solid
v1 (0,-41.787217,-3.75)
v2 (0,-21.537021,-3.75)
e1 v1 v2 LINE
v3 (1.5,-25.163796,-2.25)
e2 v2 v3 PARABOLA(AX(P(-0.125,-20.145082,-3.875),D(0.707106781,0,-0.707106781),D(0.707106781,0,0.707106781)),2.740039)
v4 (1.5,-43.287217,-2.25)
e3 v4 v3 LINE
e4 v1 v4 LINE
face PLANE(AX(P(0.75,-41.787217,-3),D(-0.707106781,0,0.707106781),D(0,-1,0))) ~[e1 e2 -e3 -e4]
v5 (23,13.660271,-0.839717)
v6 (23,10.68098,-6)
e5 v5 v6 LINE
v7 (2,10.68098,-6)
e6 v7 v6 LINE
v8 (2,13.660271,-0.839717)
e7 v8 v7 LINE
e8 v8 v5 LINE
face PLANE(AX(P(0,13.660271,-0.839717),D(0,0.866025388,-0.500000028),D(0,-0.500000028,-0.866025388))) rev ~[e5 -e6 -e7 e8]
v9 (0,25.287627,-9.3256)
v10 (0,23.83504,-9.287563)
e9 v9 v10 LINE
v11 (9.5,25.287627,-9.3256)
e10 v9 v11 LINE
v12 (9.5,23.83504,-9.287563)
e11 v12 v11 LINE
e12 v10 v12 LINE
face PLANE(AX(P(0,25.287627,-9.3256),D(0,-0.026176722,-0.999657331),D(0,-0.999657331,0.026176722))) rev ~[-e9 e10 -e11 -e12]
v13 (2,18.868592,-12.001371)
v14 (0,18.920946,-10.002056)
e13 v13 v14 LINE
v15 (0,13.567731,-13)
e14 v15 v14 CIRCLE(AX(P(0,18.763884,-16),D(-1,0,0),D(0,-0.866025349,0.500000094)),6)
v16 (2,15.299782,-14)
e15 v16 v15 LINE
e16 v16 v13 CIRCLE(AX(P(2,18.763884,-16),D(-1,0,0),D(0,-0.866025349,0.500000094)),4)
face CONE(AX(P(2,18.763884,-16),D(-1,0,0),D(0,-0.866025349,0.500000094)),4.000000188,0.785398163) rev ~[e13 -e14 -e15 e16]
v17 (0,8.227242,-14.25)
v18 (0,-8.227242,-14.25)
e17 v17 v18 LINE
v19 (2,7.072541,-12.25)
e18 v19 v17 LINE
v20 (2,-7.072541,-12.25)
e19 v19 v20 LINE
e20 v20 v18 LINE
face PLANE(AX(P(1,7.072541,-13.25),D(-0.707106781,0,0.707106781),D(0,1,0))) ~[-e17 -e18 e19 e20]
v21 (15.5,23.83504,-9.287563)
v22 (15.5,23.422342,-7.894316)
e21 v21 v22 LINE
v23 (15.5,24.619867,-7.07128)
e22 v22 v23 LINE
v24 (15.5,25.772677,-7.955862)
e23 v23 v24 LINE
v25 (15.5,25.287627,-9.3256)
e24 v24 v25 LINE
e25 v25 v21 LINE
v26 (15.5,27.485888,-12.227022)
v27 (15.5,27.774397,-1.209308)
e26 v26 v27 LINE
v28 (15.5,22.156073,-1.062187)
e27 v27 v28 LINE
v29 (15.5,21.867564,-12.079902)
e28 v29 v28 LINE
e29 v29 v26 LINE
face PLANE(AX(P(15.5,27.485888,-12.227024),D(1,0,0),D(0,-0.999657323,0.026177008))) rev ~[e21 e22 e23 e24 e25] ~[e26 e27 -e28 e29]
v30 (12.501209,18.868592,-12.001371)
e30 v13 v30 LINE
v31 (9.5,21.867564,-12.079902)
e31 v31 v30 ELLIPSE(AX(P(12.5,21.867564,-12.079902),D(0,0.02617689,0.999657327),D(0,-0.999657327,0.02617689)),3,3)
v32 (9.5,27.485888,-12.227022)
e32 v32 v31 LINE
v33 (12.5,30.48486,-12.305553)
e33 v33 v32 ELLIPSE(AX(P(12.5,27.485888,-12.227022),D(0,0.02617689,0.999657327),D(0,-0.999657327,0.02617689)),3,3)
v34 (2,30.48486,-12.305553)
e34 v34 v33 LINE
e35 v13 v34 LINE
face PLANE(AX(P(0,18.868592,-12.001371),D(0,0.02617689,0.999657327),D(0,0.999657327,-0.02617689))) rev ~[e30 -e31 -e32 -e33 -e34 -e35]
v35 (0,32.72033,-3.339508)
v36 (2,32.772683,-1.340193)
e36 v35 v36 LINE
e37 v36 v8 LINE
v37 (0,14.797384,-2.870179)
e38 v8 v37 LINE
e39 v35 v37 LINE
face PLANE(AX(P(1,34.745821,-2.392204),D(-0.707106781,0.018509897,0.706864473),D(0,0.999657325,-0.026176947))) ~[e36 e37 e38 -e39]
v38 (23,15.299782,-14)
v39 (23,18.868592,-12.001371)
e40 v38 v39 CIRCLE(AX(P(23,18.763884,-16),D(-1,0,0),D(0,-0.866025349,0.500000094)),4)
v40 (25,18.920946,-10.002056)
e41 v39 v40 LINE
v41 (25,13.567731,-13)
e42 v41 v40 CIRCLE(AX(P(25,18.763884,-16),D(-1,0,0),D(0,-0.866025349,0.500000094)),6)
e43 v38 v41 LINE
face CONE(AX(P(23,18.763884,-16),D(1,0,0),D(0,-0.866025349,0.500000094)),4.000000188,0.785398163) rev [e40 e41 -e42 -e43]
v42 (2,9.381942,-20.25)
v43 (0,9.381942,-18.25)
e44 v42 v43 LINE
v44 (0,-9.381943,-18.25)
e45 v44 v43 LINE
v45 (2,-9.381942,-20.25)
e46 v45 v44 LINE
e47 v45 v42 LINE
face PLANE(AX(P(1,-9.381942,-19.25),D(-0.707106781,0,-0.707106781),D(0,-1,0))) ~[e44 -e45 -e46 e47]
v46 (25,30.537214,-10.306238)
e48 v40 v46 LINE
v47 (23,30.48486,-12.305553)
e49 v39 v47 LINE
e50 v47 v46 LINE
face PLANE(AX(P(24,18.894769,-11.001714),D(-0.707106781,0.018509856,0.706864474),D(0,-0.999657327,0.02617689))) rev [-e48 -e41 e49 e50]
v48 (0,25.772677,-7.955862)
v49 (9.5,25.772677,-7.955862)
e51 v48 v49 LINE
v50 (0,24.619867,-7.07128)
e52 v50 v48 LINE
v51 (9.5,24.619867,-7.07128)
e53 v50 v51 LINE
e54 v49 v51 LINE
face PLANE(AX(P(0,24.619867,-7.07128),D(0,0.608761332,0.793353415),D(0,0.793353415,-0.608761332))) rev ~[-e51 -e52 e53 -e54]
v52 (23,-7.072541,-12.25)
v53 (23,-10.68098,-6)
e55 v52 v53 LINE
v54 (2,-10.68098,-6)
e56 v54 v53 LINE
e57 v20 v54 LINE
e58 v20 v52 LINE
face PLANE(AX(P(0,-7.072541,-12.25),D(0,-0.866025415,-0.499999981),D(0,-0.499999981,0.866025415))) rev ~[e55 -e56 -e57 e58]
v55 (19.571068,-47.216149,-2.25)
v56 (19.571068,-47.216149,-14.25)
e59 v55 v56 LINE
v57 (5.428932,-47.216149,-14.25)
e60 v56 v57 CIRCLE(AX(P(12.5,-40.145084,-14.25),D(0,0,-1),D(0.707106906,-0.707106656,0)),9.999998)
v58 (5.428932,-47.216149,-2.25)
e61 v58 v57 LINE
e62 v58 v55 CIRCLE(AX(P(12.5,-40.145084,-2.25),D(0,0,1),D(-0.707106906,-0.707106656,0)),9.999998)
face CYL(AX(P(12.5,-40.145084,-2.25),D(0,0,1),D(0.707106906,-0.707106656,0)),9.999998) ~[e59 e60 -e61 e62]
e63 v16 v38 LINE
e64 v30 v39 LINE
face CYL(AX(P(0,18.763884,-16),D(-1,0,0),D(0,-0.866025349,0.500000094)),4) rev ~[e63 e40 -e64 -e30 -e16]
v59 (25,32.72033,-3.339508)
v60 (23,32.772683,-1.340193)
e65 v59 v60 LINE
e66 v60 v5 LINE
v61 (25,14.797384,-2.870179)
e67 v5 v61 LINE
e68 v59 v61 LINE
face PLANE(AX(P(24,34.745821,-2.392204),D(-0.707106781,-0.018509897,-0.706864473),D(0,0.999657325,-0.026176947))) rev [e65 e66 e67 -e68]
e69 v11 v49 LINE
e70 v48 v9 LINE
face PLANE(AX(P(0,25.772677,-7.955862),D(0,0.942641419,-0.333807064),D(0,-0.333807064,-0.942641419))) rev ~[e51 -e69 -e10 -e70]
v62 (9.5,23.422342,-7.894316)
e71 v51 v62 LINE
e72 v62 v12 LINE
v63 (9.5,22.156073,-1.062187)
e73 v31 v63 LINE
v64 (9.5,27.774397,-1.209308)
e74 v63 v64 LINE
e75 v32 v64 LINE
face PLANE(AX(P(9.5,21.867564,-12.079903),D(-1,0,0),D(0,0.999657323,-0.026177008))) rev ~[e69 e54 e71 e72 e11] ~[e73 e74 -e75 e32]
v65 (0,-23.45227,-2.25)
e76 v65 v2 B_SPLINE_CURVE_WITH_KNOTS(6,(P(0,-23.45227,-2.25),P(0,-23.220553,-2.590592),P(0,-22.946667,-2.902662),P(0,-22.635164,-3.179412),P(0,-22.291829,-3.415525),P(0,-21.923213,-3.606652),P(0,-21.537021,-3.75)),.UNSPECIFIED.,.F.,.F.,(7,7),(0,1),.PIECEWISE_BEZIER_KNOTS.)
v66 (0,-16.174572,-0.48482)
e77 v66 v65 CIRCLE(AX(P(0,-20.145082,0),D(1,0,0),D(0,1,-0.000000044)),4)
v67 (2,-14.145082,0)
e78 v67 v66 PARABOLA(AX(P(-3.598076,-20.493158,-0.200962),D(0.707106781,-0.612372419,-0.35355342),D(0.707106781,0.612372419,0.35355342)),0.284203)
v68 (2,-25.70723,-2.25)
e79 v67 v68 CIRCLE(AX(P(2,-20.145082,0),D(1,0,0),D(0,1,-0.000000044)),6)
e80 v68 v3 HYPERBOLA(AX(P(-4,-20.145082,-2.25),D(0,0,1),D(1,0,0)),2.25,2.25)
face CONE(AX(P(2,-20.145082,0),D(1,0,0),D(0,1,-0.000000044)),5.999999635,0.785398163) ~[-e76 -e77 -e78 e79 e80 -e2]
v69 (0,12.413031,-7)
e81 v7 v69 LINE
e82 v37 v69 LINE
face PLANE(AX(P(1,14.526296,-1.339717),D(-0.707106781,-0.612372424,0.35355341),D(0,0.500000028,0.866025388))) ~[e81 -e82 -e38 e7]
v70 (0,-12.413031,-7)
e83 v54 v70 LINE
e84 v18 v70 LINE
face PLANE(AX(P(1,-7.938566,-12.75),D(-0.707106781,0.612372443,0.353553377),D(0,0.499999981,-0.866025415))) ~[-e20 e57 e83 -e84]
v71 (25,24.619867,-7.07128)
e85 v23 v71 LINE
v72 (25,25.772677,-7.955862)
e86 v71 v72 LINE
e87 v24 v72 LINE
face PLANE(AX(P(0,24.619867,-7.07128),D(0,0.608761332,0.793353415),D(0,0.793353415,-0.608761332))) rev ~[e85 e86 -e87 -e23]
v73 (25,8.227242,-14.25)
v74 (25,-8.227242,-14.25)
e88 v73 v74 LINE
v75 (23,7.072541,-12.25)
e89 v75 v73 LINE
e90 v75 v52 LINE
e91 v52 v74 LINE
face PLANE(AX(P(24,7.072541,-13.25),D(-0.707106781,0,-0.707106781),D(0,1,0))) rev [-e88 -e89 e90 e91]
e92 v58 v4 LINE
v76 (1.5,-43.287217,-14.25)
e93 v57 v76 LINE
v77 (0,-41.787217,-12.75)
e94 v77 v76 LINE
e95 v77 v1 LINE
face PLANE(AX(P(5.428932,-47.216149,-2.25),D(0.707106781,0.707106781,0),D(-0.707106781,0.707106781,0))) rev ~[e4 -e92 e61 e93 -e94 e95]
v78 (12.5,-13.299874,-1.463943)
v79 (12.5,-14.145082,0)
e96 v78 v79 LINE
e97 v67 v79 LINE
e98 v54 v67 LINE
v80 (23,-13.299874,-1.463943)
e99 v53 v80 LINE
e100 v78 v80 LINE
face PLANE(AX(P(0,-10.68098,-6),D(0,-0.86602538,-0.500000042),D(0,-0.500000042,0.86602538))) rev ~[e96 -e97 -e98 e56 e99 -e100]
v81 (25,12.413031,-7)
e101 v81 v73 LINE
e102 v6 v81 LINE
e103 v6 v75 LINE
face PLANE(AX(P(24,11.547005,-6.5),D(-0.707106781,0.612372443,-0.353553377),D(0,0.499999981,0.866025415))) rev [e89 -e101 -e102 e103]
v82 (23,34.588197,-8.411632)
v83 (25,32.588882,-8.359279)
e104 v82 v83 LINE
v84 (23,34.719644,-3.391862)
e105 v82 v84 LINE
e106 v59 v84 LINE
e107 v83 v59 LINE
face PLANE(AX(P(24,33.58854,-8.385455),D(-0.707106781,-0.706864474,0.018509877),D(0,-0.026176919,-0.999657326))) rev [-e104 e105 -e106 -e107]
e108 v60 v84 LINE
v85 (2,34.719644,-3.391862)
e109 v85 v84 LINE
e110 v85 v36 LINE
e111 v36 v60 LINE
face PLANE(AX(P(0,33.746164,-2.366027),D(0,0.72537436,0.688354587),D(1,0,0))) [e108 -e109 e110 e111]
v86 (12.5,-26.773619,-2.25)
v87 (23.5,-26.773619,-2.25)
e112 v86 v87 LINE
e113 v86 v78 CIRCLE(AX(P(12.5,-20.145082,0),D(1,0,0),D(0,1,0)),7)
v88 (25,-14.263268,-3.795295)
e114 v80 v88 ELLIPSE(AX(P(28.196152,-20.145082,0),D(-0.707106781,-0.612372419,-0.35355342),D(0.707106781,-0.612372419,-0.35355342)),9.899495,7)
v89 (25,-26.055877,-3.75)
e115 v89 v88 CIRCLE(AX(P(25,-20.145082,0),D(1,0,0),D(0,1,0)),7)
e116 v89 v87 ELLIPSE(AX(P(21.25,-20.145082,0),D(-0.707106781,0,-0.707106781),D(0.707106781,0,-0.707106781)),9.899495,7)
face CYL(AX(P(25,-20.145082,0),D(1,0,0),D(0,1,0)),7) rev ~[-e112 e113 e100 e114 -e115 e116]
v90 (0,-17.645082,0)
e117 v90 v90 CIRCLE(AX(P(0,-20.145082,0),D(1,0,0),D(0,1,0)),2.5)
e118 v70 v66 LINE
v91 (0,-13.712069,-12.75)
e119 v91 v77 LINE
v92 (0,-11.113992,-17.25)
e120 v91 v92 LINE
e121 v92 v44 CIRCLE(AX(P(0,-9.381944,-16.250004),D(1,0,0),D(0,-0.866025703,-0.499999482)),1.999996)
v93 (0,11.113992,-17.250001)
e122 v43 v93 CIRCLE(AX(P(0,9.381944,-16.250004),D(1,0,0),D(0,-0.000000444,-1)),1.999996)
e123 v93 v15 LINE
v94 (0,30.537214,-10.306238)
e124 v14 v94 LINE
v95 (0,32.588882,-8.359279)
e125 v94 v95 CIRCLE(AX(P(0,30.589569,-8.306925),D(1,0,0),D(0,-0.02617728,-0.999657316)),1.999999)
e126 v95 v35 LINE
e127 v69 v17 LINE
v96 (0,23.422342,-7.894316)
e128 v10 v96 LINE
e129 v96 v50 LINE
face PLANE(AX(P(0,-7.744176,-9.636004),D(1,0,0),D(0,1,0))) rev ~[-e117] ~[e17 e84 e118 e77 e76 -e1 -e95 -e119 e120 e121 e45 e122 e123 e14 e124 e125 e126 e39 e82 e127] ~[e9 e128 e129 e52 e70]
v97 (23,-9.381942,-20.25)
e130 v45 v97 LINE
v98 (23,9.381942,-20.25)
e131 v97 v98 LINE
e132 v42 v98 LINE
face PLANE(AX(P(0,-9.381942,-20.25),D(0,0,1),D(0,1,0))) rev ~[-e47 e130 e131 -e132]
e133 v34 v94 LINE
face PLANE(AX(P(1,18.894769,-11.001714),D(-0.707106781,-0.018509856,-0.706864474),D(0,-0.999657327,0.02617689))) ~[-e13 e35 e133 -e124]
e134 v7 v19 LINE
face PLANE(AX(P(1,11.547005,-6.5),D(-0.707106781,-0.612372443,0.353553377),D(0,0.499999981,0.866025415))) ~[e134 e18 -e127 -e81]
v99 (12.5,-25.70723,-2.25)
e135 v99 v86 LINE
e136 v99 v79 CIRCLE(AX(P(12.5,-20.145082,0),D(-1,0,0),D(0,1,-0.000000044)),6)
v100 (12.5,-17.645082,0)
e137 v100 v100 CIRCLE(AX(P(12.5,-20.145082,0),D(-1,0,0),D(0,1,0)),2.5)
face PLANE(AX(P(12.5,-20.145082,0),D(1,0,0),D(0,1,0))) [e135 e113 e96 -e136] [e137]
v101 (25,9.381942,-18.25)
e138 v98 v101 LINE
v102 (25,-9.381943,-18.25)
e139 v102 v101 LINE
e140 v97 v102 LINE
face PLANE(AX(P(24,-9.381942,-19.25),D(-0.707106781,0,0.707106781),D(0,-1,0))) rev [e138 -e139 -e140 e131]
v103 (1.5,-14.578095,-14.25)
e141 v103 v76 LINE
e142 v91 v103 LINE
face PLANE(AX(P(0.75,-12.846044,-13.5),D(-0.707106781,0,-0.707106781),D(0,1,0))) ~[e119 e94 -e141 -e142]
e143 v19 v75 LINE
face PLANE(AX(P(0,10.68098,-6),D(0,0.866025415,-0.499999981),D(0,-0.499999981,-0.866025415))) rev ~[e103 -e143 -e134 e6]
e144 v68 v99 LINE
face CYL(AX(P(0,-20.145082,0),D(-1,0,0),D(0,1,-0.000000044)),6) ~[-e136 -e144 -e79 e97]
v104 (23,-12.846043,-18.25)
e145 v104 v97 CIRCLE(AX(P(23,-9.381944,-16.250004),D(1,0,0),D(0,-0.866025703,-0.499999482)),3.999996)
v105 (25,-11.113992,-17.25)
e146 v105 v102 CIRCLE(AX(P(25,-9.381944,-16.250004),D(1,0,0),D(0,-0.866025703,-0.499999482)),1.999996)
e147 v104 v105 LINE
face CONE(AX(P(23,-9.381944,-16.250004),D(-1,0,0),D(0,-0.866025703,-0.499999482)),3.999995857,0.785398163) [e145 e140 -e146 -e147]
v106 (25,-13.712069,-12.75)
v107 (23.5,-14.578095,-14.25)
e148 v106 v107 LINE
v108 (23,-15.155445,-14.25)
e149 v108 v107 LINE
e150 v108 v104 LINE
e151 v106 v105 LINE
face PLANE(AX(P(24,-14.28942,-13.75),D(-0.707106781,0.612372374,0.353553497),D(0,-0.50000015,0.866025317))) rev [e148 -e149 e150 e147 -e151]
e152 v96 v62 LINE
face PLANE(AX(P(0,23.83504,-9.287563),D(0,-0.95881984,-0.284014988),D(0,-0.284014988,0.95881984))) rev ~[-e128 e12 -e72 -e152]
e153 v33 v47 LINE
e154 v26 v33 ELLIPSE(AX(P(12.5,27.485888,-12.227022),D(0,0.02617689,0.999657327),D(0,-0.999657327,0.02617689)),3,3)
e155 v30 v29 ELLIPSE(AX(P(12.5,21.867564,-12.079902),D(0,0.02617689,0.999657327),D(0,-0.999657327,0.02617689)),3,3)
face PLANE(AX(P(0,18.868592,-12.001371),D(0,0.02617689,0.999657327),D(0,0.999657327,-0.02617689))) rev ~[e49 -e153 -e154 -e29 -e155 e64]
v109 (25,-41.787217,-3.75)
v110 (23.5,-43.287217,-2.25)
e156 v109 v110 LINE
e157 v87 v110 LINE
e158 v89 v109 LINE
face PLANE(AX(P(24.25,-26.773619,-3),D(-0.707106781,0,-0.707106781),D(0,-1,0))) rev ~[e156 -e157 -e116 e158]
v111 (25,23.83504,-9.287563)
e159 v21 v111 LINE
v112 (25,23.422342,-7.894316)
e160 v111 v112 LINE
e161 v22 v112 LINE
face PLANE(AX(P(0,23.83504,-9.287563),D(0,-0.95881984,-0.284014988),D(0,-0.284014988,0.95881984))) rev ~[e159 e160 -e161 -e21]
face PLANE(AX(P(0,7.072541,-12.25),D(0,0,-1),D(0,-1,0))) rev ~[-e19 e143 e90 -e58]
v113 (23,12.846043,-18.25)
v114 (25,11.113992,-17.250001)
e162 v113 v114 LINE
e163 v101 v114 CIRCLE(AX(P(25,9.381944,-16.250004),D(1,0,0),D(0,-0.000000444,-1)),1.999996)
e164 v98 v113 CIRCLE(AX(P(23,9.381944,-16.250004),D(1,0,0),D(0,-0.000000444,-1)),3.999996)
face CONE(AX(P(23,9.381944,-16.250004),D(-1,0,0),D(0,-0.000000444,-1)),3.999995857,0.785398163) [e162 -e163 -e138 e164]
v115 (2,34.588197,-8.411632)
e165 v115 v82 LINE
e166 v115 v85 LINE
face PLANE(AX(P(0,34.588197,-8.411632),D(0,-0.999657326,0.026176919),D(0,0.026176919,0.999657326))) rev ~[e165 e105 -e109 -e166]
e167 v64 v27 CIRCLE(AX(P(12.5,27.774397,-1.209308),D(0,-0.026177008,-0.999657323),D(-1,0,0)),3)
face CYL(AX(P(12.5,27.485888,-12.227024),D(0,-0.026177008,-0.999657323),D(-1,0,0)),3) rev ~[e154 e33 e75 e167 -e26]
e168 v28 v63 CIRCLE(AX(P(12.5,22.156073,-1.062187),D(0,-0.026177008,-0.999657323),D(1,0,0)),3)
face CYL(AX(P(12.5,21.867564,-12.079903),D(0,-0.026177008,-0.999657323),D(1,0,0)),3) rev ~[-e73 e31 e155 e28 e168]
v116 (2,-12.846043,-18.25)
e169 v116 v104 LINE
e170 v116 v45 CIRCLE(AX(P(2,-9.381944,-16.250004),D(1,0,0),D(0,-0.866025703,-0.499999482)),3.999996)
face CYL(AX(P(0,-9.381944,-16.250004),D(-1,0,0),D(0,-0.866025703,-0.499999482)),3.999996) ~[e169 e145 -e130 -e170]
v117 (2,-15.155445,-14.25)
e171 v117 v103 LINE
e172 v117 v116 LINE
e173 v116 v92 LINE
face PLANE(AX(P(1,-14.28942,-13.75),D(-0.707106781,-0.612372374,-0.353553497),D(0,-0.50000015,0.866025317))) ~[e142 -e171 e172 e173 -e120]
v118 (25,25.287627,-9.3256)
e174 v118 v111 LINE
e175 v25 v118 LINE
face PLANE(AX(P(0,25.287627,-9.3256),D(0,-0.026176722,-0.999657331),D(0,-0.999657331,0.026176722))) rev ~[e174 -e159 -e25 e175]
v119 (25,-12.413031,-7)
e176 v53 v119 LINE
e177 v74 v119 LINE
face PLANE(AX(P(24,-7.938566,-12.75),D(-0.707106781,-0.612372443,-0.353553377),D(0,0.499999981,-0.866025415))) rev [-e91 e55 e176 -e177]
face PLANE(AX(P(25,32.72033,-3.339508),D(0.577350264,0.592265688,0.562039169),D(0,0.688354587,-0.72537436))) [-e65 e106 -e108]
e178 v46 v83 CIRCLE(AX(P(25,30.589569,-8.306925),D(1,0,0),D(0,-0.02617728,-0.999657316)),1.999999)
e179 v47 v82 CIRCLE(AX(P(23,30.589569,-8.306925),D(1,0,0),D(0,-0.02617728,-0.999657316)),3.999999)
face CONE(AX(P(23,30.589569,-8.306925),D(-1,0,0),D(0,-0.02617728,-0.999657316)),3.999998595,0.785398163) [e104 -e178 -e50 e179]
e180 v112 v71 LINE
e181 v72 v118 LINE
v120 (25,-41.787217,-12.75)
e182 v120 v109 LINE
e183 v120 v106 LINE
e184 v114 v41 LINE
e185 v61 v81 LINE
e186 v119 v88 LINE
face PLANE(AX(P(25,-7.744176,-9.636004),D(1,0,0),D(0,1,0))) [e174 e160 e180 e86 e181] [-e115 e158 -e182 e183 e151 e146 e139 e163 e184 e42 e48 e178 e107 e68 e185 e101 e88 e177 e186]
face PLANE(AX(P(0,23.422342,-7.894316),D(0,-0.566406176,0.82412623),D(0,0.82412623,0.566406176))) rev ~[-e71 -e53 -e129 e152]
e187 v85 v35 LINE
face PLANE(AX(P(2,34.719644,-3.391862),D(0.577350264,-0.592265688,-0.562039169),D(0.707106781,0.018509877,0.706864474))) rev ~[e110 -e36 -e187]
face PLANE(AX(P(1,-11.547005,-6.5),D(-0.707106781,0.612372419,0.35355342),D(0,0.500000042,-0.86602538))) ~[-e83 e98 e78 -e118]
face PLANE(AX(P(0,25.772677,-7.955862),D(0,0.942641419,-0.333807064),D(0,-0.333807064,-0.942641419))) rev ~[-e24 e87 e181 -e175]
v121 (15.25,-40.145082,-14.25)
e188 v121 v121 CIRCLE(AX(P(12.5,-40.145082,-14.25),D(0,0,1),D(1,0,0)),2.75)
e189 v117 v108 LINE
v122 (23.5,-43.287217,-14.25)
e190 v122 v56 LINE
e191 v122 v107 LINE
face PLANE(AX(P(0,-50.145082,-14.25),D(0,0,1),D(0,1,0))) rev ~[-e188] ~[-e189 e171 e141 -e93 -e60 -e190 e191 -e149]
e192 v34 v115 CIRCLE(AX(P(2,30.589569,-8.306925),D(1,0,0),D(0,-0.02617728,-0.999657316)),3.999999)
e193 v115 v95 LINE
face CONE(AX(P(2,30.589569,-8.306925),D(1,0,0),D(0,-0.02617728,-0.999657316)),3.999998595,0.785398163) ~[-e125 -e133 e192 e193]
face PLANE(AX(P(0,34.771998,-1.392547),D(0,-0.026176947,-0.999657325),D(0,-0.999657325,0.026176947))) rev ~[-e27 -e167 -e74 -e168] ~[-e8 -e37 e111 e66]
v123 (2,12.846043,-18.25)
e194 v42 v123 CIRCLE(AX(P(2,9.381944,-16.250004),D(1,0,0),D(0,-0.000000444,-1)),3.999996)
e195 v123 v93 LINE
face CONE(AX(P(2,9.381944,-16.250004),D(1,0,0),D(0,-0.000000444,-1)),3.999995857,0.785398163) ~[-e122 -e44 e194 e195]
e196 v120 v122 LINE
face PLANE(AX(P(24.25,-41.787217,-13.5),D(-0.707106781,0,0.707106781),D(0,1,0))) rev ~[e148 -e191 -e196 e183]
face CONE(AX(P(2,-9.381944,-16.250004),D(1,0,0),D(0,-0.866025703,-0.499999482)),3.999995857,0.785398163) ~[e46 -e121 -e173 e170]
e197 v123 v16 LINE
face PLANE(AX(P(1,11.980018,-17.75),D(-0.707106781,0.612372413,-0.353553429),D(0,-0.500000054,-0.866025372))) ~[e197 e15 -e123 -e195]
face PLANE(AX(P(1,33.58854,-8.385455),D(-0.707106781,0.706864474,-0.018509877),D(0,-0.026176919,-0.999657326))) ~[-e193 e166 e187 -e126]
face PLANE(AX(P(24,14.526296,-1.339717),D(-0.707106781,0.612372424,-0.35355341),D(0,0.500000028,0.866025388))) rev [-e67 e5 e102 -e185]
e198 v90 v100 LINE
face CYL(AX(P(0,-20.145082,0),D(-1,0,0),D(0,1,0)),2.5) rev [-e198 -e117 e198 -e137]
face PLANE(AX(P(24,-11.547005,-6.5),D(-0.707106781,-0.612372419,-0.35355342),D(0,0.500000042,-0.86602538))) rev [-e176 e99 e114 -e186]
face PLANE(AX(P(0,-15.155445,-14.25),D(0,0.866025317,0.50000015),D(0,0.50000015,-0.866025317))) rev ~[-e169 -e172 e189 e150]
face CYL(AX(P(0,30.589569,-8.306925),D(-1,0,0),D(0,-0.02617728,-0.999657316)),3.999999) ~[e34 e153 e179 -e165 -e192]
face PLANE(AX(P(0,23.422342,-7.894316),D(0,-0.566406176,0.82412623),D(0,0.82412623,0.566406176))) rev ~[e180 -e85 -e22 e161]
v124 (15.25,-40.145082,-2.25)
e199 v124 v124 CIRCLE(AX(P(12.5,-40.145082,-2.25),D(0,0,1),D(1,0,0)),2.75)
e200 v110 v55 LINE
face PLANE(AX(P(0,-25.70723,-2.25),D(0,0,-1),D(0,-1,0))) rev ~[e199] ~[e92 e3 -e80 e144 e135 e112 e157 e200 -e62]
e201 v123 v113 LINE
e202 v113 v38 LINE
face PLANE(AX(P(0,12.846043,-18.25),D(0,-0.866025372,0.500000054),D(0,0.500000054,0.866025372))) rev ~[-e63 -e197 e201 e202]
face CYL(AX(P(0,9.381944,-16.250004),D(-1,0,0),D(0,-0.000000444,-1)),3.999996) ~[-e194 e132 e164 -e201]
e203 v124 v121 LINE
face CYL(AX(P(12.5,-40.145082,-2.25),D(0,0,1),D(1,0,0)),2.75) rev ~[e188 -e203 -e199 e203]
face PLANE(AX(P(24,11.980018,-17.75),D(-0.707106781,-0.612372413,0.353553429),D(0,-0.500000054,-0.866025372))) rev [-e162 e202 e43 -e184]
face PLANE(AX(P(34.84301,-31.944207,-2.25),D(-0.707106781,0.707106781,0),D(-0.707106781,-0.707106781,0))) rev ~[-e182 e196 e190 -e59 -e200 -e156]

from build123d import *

# Parameters (mm, degrees)
F0_R     = 2.5
F1_DEPTH = 25
F2_R     = 7
F3_DEPTH = 12.5
F5_DEPTH = 25
F6_R     = 2.75
F7_DEPTH = 25
F8_SIZE  = 2
F9_SIZE  = 1.5


with BuildPart() as f1:
    # F0 (on Right) → F1 (new body)
    with BuildSketch(Plane.YZ):
        with BuildLine():
            Line((34.771998, -1.392547), (13.660271, -0.839717))
            Line((13.660271, -0.839717), (10.68098, -6))
            Line((10.68098, -6), (7.072541, -12.25))
            Line((7.072541, -12.25), (-7.072541, -12.25))
            Line((-7.072541, -12.25), (-10.68098, -6))
            Line((-10.68098, -6), (-14.145082, 0))
            ThreePointArc((-14.145082, 0), (-18.998978, -5.88952), (-25.70723, -2.25))
            Line((-25.70723, -2.25), (-50.145082, -2.25))
            Line((-50.145082, -2.25), (-50.145082, -14.25))
            Line((-50.145082, -14.25), (-15.155445, -14.25))
            Line((-15.155445, -14.25), (-12.846043, -18.25))
            ThreePointArc((-12.846043, -18.25), (-11.381942, -19.714102), (-9.381942, -20.25))
            Line((-9.381942, -20.25), (9.381942, -20.25))
            ThreePointArc((9.381942, -20.25), (11.381942, -19.714102), (12.846043, -18.25))
            Line((12.846043, -18.25), (15.299782, -14))
            ThreePointArc((15.299782, -14), (16.809399, -12.510016), (18.868592, -12.001371))
            Line((18.868592, -12.001371), (30.48486, -12.305553))
            ThreePointArc((30.48486, -12.305553), (33.342986, -11.208422), (34.588197, -8.411632))
            Line((34.588197, -8.411632), (34.771998, -1.392547))
        make_face()
        Polygon((25.287627, -9.3256), (23.83504, -9.287563), (23.422342, -7.894316), (24.619867, -7.07128), (25.772677, -7.955862), align=None, mode=Mode.SUBTRACT)
        with BuildLine():
            ThreePointArc((-25.70723, -2.25), (-18.998978, -5.88952), (-14.145082, 0))
            ThreePointArc((-14.145082, 0), (-21.291185, 5.88952), (-25.70723, -2.25))
        make_face()
        with Locations((-20.145082, 0)):
            Circle(F0_R, mode=Mode.SUBTRACT)
    extrude(amount=F1_DEPTH)

    # F2 (on face) → F3 (cut)
    with BuildSketch(Plane.YZ.offset(25)):
        with Locations((-20.145082, 0)):
            Circle(F2_R)
    extrude(amount=-F3_DEPTH, mode=Mode.SUBTRACT)

    # F4 (on face) → F5 (cut)
    with BuildSketch(Plane(origin=(0, -0.301122, -11.499394), x_dir=(1, 0, 0), z_dir=(0, -0.026177, -0.999657))):
        with BuildLine():
            Line((9.5, -22.176285), (9.5, -27.796535))
            ThreePointArc((9.5, -27.796535), (12.5, -30.796535), (15.5, -27.796535))
            Line((15.5, -27.796535), (15.5, -22.176285))
            ThreePointArc((15.5, -22.176285), (12.5, -19.176285), (9.5, -22.176285))
        make_face()
    extrude(amount=-F5_DEPTH, mode=Mode.SUBTRACT)

    # F6 (on face) → F7 (cut)
    with BuildSketch(Plane.XY.offset(-2.25)):
        with Locations((12.5, -40.145082)):
            Circle(F6_R)
        with BuildLine():
            ThreePointArc((19.571068, -47.216149), (12.5, -50.145082), (5.428932, -47.216149))
            Line((5.428932, -47.216149), (-9.84301, -31.944207))
            Line((-9.84301, -31.944207), (-9.84301, -58.411797))
            Line((-9.84301, -58.411797), (34.84301, -58.411797))
            Line((34.84301, -58.411797), (34.84301, -31.944207))
            Line((34.84301, -31.944207), (19.571068, -47.216149))
        make_face()
    extrude(amount=-F7_DEPTH, mode=Mode.SUBTRACT)

    # F8
    f8_edges = [f1.edges().sort_by_distance(p)[0] for p in [
        (0, 24.216134, -1.116132),
        (0, 10.366406, -6.544858),
        (0, 0, -12.25),
        (0, -10.608811, -6.125),
        (0, -21.291185, 5.88952),
        (0, -14.000744, -16.25),
        (12.5, 34.771998, -1.392547),
        (25, 24.216134, -1.116132),
        (25, 10.366406, -6.544858),
        (25, 0, -12.25),
        (25, -10.186207, -6.856971),
        (25, -14.000744, -16.25),
        (25, -11.381942, -19.714102),
        (25, 0, -20.25),
        (25, 11.381942, -19.714102),
        (25, 14.072913, -16.125),
        (25, 24.676726, -12.153462),
        (25, 16.809399, -12.510016),
        (25, 33.342986, -11.208422),
        (25, 34.680097, -4.902089),
        (0, -11.381942, -19.714102),
        (0, 0, -20.25),
        (0, 11.381942, -19.714102),
        (0, 14.072913, -16.125),
        (0, 16.809399, -12.510016),
        (0, 24.676726, -12.153462),
        (0, 33.342986, -11.208422),
        (0, 34.680097, -4.902089),
    ]]
    chamfer(f8_edges, length=F8_SIZE)

    # F9
    f9_edges = [f1.edges().sort_by_distance(p)[0] for p in [
        (25, -28.471331, -14.25),
        (25, -34.280418, -2.25),
        (0, -33.747224, -2.25),
        (0, -28.471331, -14.25),
    ]]
    chamfer(f9_edges, length=F9_SIZE)


solid = f1.part
